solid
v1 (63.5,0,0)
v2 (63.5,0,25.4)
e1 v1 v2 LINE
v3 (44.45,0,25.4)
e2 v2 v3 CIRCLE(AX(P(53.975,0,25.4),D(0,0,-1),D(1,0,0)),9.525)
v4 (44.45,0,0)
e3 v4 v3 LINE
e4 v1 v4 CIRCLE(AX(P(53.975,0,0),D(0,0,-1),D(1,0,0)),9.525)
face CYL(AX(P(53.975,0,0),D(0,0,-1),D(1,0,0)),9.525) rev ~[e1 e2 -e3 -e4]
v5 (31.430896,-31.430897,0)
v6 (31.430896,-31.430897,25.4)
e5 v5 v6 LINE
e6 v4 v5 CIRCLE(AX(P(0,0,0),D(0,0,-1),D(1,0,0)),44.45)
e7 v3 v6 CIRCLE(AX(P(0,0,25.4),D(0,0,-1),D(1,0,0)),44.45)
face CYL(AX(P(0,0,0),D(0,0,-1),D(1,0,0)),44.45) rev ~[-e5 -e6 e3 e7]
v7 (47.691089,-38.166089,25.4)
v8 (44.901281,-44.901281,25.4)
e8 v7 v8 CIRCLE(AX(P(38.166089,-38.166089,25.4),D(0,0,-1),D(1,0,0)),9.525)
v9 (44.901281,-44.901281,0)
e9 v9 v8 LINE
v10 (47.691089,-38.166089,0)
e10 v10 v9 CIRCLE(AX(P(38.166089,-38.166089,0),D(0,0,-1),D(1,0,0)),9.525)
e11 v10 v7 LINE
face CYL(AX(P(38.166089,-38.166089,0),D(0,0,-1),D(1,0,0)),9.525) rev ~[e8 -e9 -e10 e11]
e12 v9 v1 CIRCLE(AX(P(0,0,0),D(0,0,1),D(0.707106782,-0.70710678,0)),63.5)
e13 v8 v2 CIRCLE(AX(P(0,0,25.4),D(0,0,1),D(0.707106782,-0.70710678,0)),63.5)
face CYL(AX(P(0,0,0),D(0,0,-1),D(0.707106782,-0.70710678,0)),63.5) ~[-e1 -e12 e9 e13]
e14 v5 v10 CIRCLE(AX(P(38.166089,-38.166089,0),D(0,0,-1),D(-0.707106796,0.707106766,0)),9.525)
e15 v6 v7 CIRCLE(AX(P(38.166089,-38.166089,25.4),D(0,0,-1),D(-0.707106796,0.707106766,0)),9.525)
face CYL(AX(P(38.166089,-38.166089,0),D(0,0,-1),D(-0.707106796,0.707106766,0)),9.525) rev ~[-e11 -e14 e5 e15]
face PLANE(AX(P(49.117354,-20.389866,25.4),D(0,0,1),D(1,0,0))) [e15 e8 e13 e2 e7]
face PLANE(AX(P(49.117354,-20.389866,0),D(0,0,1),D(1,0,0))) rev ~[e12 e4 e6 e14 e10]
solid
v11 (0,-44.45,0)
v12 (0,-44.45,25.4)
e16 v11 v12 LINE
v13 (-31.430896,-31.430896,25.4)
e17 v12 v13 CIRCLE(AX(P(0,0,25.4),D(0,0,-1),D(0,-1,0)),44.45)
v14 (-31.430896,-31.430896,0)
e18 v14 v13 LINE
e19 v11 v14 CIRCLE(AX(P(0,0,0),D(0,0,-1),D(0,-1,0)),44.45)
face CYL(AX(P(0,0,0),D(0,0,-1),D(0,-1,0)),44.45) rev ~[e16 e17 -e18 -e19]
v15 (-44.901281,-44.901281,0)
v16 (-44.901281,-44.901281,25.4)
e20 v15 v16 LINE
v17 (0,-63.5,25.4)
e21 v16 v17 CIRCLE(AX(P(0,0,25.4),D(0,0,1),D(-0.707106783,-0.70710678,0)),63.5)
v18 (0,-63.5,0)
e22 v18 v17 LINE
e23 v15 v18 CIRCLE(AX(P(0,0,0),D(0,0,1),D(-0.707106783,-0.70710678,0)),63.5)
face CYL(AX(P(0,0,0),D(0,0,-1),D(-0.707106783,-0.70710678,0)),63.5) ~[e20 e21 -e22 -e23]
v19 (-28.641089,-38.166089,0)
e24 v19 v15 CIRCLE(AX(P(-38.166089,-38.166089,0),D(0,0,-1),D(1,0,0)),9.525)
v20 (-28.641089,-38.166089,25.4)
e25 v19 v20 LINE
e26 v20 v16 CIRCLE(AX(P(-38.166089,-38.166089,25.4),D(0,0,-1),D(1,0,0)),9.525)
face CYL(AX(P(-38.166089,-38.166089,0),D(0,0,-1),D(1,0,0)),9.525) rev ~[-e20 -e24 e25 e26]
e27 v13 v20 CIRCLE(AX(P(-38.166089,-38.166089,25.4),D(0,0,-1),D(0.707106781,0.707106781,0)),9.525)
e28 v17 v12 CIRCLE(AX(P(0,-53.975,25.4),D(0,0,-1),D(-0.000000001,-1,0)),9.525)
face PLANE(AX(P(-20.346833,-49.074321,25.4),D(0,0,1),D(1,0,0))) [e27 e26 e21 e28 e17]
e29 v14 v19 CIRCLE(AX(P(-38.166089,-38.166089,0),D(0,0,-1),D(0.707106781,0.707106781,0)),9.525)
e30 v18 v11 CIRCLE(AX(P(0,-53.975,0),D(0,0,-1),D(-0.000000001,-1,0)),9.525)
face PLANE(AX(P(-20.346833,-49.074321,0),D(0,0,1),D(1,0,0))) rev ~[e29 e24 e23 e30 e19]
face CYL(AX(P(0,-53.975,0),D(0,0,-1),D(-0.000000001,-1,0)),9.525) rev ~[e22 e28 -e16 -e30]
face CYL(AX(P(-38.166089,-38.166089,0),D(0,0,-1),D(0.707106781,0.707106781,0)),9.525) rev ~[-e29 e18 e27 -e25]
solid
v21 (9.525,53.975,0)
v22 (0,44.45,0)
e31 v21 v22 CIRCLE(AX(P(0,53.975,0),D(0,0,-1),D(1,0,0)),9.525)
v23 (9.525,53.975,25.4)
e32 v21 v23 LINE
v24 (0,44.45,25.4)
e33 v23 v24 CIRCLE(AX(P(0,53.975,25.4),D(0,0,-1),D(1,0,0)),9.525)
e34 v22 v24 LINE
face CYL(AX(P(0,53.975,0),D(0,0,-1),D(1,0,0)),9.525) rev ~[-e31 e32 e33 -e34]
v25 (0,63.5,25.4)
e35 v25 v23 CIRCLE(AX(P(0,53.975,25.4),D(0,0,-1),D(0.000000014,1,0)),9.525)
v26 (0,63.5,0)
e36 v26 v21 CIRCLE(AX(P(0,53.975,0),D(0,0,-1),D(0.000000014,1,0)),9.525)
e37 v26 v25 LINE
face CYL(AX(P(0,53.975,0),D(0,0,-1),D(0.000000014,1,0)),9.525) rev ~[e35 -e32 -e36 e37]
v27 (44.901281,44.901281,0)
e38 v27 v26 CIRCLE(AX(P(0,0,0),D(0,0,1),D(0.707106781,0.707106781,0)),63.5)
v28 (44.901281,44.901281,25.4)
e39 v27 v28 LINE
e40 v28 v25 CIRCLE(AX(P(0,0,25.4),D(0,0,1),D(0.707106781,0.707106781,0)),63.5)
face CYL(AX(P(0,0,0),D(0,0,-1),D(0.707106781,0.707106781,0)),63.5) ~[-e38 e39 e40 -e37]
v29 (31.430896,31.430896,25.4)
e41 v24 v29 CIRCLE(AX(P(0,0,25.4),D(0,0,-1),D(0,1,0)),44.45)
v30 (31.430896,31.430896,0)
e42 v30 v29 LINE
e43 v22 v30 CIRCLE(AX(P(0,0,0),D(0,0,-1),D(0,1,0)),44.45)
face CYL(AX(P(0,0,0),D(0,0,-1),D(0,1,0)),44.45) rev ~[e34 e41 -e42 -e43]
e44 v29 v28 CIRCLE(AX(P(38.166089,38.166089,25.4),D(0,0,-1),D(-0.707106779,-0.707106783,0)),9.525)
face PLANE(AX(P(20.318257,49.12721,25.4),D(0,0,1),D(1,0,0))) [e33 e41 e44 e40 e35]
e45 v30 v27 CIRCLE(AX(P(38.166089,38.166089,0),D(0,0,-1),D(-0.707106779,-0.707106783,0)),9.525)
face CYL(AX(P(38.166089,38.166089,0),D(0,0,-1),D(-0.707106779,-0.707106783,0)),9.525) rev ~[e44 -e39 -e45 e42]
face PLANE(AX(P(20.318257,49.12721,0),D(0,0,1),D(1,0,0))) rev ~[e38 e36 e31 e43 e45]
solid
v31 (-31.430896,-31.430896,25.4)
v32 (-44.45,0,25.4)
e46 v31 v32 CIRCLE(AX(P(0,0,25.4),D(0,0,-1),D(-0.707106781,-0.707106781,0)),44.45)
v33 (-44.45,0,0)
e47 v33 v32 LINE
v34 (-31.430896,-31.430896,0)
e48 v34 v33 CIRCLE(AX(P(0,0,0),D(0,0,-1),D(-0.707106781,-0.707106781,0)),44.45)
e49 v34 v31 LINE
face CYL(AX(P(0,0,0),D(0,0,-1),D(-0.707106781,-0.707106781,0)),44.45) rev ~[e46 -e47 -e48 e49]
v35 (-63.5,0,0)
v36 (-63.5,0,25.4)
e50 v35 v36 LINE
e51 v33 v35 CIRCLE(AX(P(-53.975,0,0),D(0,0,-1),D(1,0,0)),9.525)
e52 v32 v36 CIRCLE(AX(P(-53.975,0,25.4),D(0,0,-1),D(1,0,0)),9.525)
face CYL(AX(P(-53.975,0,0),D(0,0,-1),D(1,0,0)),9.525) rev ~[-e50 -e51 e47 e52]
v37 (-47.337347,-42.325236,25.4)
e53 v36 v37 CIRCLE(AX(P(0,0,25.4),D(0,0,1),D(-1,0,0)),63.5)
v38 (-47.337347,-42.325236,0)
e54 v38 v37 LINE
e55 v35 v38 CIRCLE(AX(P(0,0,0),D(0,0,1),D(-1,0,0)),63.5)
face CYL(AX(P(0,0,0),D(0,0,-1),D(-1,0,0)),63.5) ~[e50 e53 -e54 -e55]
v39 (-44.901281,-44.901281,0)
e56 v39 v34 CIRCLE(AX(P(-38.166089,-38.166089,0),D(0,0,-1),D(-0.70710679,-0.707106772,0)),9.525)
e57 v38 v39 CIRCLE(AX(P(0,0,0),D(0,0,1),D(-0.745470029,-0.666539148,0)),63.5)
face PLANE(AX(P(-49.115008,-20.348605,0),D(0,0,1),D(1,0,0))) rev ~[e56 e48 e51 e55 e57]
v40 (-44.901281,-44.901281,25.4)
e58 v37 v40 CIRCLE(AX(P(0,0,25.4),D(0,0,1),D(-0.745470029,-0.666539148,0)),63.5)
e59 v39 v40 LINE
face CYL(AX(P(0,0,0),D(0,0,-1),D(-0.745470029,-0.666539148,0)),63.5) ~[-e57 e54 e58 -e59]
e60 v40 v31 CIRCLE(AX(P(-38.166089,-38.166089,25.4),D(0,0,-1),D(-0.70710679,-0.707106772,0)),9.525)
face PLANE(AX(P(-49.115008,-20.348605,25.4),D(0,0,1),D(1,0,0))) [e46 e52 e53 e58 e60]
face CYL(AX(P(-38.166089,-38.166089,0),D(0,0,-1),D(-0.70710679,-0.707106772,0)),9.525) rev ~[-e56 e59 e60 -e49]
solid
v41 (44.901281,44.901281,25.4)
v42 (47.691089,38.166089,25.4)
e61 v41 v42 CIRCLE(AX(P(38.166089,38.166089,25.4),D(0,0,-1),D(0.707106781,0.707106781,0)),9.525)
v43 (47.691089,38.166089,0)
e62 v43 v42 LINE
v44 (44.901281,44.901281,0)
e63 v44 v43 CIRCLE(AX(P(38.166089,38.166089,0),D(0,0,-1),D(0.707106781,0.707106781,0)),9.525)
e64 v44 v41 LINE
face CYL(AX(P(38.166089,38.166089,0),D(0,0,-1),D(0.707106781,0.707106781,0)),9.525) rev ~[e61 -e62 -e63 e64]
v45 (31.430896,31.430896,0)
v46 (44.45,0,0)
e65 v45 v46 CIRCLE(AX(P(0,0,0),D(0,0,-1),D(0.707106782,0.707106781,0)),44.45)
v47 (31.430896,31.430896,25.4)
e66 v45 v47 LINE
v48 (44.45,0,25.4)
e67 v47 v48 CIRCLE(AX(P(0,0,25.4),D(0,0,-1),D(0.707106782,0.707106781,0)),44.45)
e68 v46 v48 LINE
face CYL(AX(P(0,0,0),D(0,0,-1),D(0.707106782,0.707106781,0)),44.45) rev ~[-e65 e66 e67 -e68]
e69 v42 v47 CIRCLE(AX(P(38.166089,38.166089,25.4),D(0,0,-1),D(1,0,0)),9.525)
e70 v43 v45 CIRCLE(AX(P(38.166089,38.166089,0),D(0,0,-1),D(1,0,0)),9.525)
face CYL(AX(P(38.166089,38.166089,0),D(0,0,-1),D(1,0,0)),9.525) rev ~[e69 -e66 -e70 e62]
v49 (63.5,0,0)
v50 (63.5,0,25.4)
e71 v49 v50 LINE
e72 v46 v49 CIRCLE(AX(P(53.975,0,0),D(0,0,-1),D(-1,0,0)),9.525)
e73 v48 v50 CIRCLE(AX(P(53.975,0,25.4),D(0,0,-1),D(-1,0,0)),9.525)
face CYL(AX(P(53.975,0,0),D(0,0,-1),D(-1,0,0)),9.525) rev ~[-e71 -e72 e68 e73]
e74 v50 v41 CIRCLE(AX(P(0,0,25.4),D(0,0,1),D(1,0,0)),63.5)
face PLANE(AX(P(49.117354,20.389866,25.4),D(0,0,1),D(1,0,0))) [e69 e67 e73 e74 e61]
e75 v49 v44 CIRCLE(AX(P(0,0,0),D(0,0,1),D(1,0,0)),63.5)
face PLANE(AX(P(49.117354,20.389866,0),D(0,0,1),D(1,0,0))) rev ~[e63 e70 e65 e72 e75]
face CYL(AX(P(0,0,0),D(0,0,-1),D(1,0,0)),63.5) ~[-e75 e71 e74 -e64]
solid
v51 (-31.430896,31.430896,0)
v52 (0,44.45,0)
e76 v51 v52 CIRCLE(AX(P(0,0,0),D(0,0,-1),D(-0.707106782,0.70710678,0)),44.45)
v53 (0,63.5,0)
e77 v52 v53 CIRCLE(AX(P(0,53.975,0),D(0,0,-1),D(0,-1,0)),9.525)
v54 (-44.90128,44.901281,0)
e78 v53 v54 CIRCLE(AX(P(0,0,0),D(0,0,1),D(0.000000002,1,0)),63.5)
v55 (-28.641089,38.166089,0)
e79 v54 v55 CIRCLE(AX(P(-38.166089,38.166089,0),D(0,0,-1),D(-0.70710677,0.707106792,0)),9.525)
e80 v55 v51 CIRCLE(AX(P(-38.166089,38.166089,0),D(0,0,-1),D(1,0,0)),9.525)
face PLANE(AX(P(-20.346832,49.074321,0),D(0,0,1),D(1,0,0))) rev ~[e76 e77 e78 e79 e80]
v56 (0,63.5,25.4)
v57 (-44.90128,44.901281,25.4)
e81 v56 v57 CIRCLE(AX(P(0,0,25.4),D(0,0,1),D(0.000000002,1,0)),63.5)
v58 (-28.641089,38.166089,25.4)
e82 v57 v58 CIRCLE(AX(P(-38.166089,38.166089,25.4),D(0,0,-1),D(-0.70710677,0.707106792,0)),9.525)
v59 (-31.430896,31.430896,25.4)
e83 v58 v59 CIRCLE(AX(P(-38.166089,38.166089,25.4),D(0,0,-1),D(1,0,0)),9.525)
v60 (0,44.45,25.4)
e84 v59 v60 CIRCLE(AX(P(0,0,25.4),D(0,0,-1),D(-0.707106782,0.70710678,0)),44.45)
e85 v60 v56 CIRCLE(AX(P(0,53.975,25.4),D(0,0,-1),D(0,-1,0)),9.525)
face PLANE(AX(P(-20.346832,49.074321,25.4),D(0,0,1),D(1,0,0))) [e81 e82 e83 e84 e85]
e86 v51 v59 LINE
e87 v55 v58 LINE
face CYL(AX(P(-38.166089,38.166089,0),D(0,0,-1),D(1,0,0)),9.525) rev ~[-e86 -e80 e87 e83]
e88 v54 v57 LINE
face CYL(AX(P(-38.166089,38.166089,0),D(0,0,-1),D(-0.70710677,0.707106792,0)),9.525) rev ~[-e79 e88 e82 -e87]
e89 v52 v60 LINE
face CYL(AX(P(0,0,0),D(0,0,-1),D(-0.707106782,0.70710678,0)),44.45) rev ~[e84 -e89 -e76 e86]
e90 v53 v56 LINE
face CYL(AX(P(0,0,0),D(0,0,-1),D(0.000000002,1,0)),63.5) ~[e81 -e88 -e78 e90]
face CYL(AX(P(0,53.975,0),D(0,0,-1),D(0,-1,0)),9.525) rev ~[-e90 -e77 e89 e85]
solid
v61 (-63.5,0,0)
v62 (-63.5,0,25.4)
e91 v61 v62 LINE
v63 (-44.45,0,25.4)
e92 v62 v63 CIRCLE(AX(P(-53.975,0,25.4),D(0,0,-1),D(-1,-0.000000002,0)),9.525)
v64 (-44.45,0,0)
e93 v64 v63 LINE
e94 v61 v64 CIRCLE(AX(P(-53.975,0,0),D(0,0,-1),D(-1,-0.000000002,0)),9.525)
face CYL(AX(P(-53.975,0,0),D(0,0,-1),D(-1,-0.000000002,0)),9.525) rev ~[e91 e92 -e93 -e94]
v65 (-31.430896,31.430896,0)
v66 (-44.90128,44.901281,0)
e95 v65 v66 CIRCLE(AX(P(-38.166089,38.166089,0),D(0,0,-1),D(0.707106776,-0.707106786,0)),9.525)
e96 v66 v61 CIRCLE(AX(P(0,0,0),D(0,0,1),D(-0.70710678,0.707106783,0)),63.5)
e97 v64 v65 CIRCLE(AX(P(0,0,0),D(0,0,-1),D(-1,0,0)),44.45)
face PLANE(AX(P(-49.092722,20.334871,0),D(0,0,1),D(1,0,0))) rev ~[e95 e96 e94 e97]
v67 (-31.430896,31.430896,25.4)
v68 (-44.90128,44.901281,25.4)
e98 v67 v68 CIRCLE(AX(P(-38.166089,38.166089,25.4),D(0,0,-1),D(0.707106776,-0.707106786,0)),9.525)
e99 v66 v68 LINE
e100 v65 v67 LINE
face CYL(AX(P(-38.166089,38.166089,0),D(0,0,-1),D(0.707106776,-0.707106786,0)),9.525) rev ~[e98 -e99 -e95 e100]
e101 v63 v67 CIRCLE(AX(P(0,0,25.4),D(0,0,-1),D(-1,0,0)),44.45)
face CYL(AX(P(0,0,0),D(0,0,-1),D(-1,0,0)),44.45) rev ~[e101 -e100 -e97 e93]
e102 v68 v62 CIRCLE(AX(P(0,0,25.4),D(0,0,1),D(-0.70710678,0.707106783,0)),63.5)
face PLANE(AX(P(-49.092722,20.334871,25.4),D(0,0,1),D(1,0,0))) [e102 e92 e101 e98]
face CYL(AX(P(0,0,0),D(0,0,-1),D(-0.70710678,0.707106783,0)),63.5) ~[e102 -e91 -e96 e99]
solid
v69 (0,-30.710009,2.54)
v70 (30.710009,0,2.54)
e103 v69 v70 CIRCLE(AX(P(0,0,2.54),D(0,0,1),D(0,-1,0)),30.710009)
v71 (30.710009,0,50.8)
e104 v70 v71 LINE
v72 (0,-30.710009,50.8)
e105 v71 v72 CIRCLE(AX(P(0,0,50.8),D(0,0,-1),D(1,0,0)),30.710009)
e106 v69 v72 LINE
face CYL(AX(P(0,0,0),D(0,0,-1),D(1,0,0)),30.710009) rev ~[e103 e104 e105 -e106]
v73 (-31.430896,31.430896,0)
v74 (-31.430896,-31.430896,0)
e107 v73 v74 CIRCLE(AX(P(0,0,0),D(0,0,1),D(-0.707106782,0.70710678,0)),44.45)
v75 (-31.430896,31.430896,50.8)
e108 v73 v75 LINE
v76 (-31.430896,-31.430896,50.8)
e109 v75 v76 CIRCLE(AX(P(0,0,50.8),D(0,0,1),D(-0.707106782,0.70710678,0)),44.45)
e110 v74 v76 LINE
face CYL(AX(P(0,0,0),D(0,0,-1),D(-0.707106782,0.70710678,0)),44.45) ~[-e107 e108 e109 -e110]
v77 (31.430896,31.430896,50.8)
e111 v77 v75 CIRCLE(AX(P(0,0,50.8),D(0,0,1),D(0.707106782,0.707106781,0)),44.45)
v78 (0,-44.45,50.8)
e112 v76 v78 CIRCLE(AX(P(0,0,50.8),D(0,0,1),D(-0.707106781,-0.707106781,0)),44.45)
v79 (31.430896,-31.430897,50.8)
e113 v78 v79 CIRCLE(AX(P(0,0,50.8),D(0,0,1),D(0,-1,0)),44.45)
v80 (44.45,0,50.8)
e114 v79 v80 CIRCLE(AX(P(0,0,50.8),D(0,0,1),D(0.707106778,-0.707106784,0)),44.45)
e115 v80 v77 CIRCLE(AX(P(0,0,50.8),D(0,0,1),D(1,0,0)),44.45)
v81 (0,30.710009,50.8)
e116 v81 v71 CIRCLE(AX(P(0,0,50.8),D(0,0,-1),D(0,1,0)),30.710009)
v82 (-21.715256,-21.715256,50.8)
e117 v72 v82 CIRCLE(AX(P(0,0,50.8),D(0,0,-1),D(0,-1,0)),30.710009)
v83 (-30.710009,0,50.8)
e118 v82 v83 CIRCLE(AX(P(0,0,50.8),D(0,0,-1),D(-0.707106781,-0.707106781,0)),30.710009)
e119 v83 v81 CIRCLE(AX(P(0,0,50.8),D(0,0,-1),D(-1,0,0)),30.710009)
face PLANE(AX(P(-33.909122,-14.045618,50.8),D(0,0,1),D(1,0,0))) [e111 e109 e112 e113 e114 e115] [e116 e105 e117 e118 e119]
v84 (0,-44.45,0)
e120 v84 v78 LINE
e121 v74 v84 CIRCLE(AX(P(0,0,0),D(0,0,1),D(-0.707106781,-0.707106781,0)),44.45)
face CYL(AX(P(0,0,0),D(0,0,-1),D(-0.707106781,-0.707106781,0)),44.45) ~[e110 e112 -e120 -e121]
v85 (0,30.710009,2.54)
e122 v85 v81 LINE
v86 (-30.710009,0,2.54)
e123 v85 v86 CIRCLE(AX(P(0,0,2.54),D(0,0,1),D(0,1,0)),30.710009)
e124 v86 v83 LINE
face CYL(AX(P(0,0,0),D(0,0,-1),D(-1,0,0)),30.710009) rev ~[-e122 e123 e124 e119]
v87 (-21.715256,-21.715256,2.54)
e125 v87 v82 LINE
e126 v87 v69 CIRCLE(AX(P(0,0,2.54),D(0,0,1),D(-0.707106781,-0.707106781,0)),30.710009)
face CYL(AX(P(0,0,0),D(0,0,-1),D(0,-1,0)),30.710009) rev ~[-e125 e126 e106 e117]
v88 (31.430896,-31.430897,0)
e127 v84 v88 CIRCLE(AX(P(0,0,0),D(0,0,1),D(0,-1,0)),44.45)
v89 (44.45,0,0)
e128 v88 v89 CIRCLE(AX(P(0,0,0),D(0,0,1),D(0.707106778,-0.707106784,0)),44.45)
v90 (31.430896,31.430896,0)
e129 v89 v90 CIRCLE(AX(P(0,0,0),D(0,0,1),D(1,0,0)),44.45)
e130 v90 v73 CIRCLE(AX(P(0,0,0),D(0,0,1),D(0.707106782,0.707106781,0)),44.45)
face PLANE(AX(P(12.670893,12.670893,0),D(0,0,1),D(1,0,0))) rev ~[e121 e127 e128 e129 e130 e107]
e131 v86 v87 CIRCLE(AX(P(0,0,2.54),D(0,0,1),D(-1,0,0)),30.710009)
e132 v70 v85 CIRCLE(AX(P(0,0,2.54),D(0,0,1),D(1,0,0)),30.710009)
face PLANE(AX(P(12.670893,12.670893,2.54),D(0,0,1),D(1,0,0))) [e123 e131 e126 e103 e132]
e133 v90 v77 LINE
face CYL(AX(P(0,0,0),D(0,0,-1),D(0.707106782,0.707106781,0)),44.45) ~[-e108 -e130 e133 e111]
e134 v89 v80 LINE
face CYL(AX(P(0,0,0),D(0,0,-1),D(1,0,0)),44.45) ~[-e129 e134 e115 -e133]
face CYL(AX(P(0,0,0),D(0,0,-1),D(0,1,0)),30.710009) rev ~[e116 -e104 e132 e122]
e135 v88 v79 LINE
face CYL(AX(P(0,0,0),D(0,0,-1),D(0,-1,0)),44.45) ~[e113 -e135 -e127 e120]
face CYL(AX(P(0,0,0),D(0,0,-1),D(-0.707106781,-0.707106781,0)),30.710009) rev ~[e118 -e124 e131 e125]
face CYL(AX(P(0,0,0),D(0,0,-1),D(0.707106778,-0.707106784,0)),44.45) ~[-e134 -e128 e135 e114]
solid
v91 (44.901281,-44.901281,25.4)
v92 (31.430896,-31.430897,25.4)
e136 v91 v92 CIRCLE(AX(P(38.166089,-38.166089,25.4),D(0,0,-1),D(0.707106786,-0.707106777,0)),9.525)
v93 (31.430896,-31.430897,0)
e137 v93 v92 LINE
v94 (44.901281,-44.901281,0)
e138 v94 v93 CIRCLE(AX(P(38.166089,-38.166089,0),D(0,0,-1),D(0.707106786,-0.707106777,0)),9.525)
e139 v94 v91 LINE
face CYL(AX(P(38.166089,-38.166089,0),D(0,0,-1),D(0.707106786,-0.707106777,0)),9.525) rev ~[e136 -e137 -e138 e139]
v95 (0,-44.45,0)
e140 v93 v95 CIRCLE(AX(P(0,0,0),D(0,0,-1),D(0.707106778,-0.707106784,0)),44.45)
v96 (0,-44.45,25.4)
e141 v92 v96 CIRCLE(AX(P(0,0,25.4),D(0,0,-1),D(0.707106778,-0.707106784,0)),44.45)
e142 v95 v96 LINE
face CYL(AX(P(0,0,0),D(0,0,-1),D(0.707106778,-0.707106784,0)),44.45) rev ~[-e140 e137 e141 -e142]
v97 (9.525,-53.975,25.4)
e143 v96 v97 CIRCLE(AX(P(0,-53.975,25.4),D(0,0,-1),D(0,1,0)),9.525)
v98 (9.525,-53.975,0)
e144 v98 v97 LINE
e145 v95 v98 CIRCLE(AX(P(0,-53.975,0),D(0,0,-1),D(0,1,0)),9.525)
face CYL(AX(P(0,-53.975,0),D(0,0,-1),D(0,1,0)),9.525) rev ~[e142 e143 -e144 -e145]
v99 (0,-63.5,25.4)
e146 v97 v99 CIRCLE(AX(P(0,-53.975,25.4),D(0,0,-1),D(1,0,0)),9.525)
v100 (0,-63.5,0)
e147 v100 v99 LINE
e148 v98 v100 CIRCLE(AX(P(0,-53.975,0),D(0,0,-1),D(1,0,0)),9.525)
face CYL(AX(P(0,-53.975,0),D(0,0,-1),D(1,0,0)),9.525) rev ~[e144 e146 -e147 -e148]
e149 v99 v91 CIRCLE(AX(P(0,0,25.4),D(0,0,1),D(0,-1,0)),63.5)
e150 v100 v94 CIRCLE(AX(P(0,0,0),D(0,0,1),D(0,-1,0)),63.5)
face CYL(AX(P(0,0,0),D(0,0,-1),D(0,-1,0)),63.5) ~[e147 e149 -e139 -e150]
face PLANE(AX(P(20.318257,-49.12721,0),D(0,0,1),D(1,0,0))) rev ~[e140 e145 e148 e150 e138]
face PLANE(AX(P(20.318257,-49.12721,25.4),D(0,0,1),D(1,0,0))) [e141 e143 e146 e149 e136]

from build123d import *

# Parameters (mm, degrees)
F1_DEPTH = 25.4
F2_DEPTH = 50.8
F3_DEPTH = 2.54


with BuildPart() as f1:
    # F0 (on Top) → F1 (new body)
    with BuildSketch(Plane.XY):
        with BuildLine():
            ThreePointArc((63.5, 0), (53.975, -9.525), (44.45, 0))
            ThreePointArc((44.45, 0), (41.0664451818, -17.0102786611), (31.4308962821, -31.4308965654))
            ThreePointArc((31.4308962821, -31.4308965654), (41.8111481153, -29.3661359291), (47.6910885145, -38.1660885145))
            ThreePointArc((47.6910885145, -38.1660885145), (46.9660410736, -41.8111481791), (44.9012806494, -44.9012805613))
            ThreePointArc((44.9012806494, -44.9012805613), (58.6663503264, -24.3003979264), (63.5, 0))
        make_face()
    extrude(amount=F1_DEPTH)


with BuildPart() as f1b:
    # F0 (on Top) → F1, piece 2 (new body)
    with BuildSketch(Plane.XY):
        with BuildLine():
            ThreePointArc((44.9012806494, -44.9012805613), (31.4308965166, -44.9012806982), (31.4308962821, -31.4308965654))
            ThreePointArc((31.4308962821, -31.4308965654), (17.0102784761, -41.0664452584), (0, -44.45))
            ThreePointArc((0, -44.45), (6.7351920908, -47.2398079092), (9.525, -53.975))
            ThreePointArc((9.525, -53.975), (6.7351920871, -60.7101920945), (-1.06e-08, -63.5))
            ThreePointArc((-1.06e-08, -63.5), (24.3003979791, -58.6663503046), (44.9012806494, -44.9012805613))
        make_face()
    extrude(amount=F1_DEPTH)


with BuildPart() as f1c:
    # F0 (on Top) → F1, piece 3 (new body)
    with BuildSketch(Plane.XY):
        with BuildLine():
            ThreePointArc((-1.06e-08, -63.5), (-9.525, -53.9749999947), (0, -44.45))
            ThreePointArc((0, -44.45), (-17.0102785686, -41.0664452201), (-31.4308964237, -31.4308964237))
            ThreePointArc((-31.4308964237, -31.4308964237), (-29.3661359674, -34.5210288213), (-28.6410885145, -38.1660885145))
            ThreePointArc((-28.6410885145, -38.1660885145), (-34.5210288767, -46.9660410847), (-44.9012806902, -44.9012805205))
            ThreePointArc((-44.9012806902, -44.9012805205), (-24.3003980155, -58.6663502895), (-1.06e-08, -63.5))
        make_face()
    extrude(amount=F1_DEPTH)


with BuildPart() as f1d:
    # F0 (on Top) → F1, piece 4 (new body)
    with BuildSketch(Plane.XY):
        with BuildLine():
            ThreePointArc((-44.9012806902, -44.9012805205), (-44.9012805629, -31.4308963813), (-31.4308964237, -31.4308964237))
            ThreePointArc((-31.4308964237, -31.4308964237), (-41.0664452201, -17.0102785686), (-44.45, 0))
            ThreePointArc((-44.45, 0), (-53.9749999922, -9.525), (-63.5, -1.56e-08))
            ThreePointArc((-63.5, -1.56e-08), (-59.3218826508, -22.653128675), (-47.337346821, -42.3252359232))
            ThreePointArc((-47.337346821, -42.3252359232), (-46.1372962225, -43.6302635481), (-44.9012806902, -44.9012805205))
        make_face()
    extrude(amount=F1_DEPTH)


with BuildPart() as f1e:
    # F0 (on Top) → F1, piece 5 (new body)
    with BuildSketch(Plane.XY):
        with BuildLine():
            ThreePointArc((-44.45, 0), (-41.0664452333, 17.0102785369), (-31.4308964724, 31.4308963751))
            ThreePointArc((-31.4308964724, 31.4308963751), (-44.9012806825, 31.4308965009), (-44.9012804996, 44.9012807111))
            ThreePointArc((-44.9012804996, 44.9012807111), (-58.6663502888, 24.3003980171), (-63.5, -1.56e-08))
            ThreePointArc((-63.5, -1.56e-08), (-53.9750000078, 9.525), (-44.45, 0))
        make_face()
    extrude(amount=F1_DEPTH)


with BuildPart() as f1f:
    # F0 (on Top) → F1, piece 6 (new body)
    with BuildSketch(Plane.XY):
        with BuildLine():
            ThreePointArc((31.4308964405, 31.430896407), (41.0664452246, 17.0102785577), (44.45, 0))
            ThreePointArc((44.45, 0), (53.975, 9.525), (63.5, 0))
            ThreePointArc((63.5, 0), (58.6663503145, 24.3003979552), (44.9012806053, 44.9012806053))
            ThreePointArc((44.9012806053, 44.9012806053), (46.9660410617, 41.8111482078), (47.6910885145, 38.1660885145))
            ThreePointArc((47.6910885145, 38.1660885145), (41.8111482187, 29.3661359719), (31.4308964405, 31.430896407))
        make_face()
    extrude(amount=F1_DEPTH)


with BuildPart() as f1g:
    # F0 (on Top) → F1, piece 7 (new body)
    with BuildSketch(Plane.XY):
        with BuildLine():
            ThreePointArc((0, 44.45), (17.0102785795, 41.0664452156), (31.4308964405, 31.430896407))
            ThreePointArc((31.4308964405, 31.430896407), (31.4308964154, 44.901280597), (44.9012806053, 44.9012806053))
            ThreePointArc((44.9012806053, 44.9012806053), (24.3003980186, 58.6663502882), (1.372e-07, 63.5))
            ThreePointArc((1.372e-07, 63.5), (6.7351921393, 60.7101920423), (9.525, 53.975))
            ThreePointArc((9.525, 53.975), (6.7351920908, 47.2398079092), (0, 44.45))
        make_face()
    extrude(amount=F1_DEPTH)


with BuildPart() as f1h:
    # F0 (on Top) → F1, piece 8 (new body)
    with BuildSketch(Plane.XY):
        with BuildLine():
            ThreePointArc((-31.4308964724, 31.4308963751), (-17.0102786004, 41.066445207), (0, 44.45))
            ThreePointArc((0, 44.45), (-9.525, 53.9750000686), (1.372e-07, 63.5))
            ThreePointArc((1.372e-07, 63.5), (-24.3003978227, 58.6663503693), (-44.9012804996, 44.9012807111))
            ThreePointArc((-44.9012804996, 44.9012807111), (-34.5210287522, 46.9660410331), (-28.6410885145, 38.1660885145))
            ThreePointArc((-28.6410885145, 38.1660885145), (-29.3661359805, 34.5210287895), (-31.4308964724, 31.4308963751))
        make_face()
    extrude(amount=F1_DEPTH)


with BuildPart() as f2:
    # F0 (on Top) → F2 (new body)
    with BuildSketch(Plane.XY):
        with BuildLine():
            ThreePointArc((-44.45, 0), (-41.0664452201, -17.0102785686), (-31.4308964237, -31.4308964237))
            Line((-31.4308964237, -31.4308964237), (-21.7152558542, -21.7152558542))
            ThreePointArc((-21.7152558542, -21.7152558542), (-28.3723490719, -11.7522117819), (-30.7100093394, 0))
            Line((-30.7100093394, 0), (-44.45, 0))
        make_face()
        with BuildLine():
            Line((0, 30.7100093394), (0, 44.45))
            ThreePointArc((0, 44.45), (-17.0102786004, 41.066445207), (-31.4308964724, 31.4308963751))
            ThreePointArc((-31.4308964724, 31.4308963751), (-41.0664452333, 17.0102785369), (-44.45, 0))
            Line((-44.45, 0), (-30.7100093394, 0))
            ThreePointArc((-30.7100093394, 0), (-21.7152558542, 21.7152558542), (0, 30.7100093394))
        make_face()
        with BuildLine():
            Line((30.7100093394, 0), (44.45, 0))
            ThreePointArc((44.45, 0), (41.0664452246, 17.0102785577), (31.4308964405, 31.430896407))
            ThreePointArc((31.4308964405, 31.430896407), (17.0102785795, 41.0664452156), (0, 44.45))
            Line((0, 44.45), (0, 30.7100093394))
            ThreePointArc((0, 30.7100093394), (21.7152558542, 21.7152558542), (30.7100093394, 0))
        make_face()
        with BuildLine():
            ThreePointArc((31.4308962821, -31.4308965654), (41.0664451818, -17.0102786611), (44.45, 0))
            Line((44.45, 0), (30.7100093394, 0))
            ThreePointArc((30.7100093394, 0), (21.7152558542, -21.7152558542), (0, -30.7100093394))
            Line((0, -30.7100093394), (0, -44.45))
            ThreePointArc((0, -44.45), (17.0102784761, -41.0664452584), (31.4308962821, -31.4308965654))
        make_face()
        with BuildLine():
            ThreePointArc((-31.4308964237, -31.4308964237), (-17.0102785686, -41.0664452201), (0, -44.45))
            Line((0, -44.45), (0, -30.7100093394))
            ThreePointArc((0, -30.7100093394), (-11.7522117819, -28.3723490719), (-21.7152558542, -21.7152558542))
            Line((-21.7152558542, -21.7152558542), (-31.4308964237, -31.4308964237))
        make_face()
    extrude(amount=F2_DEPTH)

    # F0 (on Top) → F3 (join)
    with BuildSketch(Plane.XY):
        with BuildLine():
            Line((0, 0), (30.7100093394, 0))
            ThreePointArc((30.7100093394, 0), (21.7152558542, 21.7152558542), (0, 30.7100093394))
            Line((0, 30.7100093394), (0, 0))
        make_face()
        with BuildLine():
            ThreePointArc((0, -30.7100093394), (21.7152558542, -21.7152558542), (30.7100093394, 0))
            Line((30.7100093394, 0), (0, 0))
            Line((0, 0), (0, -30.7100093394))
        make_face()
        with BuildLine():
            ThreePointArc((-21.7152558542, -21.7152558542), (-11.7522117819, -28.3723490719), (0, -30.7100093394))
            Line((0, -30.7100093394), (0, 0))
            Line((0, 0), (-21.7152558542, -21.7152558542))
        make_face()
        with BuildLine():
            Line((-21.7152558542, -21.7152558542), (0, 0))
            Line((0, 0), (-30.7100093394, 0))
            ThreePointArc((-30.7100093394, 0), (-28.3723490719, -11.7522117819), (-21.7152558542, -21.7152558542))
        make_face()
        with BuildLine():
            Line((0, 0), (0, 30.7100093394))
            ThreePointArc((0, 30.7100093394), (-21.7152558542, 21.7152558542), (-30.7100093394, 0))
            Line((-30.7100093394, 0), (0, 0))
        make_face()
    extrude(amount=F3_DEPTH)


solid = Compound([f1.part, f1b.part, f1c.part, f1d.part, f1e.part, f1f.part, f1g.part, f1h.part, f2.part])
